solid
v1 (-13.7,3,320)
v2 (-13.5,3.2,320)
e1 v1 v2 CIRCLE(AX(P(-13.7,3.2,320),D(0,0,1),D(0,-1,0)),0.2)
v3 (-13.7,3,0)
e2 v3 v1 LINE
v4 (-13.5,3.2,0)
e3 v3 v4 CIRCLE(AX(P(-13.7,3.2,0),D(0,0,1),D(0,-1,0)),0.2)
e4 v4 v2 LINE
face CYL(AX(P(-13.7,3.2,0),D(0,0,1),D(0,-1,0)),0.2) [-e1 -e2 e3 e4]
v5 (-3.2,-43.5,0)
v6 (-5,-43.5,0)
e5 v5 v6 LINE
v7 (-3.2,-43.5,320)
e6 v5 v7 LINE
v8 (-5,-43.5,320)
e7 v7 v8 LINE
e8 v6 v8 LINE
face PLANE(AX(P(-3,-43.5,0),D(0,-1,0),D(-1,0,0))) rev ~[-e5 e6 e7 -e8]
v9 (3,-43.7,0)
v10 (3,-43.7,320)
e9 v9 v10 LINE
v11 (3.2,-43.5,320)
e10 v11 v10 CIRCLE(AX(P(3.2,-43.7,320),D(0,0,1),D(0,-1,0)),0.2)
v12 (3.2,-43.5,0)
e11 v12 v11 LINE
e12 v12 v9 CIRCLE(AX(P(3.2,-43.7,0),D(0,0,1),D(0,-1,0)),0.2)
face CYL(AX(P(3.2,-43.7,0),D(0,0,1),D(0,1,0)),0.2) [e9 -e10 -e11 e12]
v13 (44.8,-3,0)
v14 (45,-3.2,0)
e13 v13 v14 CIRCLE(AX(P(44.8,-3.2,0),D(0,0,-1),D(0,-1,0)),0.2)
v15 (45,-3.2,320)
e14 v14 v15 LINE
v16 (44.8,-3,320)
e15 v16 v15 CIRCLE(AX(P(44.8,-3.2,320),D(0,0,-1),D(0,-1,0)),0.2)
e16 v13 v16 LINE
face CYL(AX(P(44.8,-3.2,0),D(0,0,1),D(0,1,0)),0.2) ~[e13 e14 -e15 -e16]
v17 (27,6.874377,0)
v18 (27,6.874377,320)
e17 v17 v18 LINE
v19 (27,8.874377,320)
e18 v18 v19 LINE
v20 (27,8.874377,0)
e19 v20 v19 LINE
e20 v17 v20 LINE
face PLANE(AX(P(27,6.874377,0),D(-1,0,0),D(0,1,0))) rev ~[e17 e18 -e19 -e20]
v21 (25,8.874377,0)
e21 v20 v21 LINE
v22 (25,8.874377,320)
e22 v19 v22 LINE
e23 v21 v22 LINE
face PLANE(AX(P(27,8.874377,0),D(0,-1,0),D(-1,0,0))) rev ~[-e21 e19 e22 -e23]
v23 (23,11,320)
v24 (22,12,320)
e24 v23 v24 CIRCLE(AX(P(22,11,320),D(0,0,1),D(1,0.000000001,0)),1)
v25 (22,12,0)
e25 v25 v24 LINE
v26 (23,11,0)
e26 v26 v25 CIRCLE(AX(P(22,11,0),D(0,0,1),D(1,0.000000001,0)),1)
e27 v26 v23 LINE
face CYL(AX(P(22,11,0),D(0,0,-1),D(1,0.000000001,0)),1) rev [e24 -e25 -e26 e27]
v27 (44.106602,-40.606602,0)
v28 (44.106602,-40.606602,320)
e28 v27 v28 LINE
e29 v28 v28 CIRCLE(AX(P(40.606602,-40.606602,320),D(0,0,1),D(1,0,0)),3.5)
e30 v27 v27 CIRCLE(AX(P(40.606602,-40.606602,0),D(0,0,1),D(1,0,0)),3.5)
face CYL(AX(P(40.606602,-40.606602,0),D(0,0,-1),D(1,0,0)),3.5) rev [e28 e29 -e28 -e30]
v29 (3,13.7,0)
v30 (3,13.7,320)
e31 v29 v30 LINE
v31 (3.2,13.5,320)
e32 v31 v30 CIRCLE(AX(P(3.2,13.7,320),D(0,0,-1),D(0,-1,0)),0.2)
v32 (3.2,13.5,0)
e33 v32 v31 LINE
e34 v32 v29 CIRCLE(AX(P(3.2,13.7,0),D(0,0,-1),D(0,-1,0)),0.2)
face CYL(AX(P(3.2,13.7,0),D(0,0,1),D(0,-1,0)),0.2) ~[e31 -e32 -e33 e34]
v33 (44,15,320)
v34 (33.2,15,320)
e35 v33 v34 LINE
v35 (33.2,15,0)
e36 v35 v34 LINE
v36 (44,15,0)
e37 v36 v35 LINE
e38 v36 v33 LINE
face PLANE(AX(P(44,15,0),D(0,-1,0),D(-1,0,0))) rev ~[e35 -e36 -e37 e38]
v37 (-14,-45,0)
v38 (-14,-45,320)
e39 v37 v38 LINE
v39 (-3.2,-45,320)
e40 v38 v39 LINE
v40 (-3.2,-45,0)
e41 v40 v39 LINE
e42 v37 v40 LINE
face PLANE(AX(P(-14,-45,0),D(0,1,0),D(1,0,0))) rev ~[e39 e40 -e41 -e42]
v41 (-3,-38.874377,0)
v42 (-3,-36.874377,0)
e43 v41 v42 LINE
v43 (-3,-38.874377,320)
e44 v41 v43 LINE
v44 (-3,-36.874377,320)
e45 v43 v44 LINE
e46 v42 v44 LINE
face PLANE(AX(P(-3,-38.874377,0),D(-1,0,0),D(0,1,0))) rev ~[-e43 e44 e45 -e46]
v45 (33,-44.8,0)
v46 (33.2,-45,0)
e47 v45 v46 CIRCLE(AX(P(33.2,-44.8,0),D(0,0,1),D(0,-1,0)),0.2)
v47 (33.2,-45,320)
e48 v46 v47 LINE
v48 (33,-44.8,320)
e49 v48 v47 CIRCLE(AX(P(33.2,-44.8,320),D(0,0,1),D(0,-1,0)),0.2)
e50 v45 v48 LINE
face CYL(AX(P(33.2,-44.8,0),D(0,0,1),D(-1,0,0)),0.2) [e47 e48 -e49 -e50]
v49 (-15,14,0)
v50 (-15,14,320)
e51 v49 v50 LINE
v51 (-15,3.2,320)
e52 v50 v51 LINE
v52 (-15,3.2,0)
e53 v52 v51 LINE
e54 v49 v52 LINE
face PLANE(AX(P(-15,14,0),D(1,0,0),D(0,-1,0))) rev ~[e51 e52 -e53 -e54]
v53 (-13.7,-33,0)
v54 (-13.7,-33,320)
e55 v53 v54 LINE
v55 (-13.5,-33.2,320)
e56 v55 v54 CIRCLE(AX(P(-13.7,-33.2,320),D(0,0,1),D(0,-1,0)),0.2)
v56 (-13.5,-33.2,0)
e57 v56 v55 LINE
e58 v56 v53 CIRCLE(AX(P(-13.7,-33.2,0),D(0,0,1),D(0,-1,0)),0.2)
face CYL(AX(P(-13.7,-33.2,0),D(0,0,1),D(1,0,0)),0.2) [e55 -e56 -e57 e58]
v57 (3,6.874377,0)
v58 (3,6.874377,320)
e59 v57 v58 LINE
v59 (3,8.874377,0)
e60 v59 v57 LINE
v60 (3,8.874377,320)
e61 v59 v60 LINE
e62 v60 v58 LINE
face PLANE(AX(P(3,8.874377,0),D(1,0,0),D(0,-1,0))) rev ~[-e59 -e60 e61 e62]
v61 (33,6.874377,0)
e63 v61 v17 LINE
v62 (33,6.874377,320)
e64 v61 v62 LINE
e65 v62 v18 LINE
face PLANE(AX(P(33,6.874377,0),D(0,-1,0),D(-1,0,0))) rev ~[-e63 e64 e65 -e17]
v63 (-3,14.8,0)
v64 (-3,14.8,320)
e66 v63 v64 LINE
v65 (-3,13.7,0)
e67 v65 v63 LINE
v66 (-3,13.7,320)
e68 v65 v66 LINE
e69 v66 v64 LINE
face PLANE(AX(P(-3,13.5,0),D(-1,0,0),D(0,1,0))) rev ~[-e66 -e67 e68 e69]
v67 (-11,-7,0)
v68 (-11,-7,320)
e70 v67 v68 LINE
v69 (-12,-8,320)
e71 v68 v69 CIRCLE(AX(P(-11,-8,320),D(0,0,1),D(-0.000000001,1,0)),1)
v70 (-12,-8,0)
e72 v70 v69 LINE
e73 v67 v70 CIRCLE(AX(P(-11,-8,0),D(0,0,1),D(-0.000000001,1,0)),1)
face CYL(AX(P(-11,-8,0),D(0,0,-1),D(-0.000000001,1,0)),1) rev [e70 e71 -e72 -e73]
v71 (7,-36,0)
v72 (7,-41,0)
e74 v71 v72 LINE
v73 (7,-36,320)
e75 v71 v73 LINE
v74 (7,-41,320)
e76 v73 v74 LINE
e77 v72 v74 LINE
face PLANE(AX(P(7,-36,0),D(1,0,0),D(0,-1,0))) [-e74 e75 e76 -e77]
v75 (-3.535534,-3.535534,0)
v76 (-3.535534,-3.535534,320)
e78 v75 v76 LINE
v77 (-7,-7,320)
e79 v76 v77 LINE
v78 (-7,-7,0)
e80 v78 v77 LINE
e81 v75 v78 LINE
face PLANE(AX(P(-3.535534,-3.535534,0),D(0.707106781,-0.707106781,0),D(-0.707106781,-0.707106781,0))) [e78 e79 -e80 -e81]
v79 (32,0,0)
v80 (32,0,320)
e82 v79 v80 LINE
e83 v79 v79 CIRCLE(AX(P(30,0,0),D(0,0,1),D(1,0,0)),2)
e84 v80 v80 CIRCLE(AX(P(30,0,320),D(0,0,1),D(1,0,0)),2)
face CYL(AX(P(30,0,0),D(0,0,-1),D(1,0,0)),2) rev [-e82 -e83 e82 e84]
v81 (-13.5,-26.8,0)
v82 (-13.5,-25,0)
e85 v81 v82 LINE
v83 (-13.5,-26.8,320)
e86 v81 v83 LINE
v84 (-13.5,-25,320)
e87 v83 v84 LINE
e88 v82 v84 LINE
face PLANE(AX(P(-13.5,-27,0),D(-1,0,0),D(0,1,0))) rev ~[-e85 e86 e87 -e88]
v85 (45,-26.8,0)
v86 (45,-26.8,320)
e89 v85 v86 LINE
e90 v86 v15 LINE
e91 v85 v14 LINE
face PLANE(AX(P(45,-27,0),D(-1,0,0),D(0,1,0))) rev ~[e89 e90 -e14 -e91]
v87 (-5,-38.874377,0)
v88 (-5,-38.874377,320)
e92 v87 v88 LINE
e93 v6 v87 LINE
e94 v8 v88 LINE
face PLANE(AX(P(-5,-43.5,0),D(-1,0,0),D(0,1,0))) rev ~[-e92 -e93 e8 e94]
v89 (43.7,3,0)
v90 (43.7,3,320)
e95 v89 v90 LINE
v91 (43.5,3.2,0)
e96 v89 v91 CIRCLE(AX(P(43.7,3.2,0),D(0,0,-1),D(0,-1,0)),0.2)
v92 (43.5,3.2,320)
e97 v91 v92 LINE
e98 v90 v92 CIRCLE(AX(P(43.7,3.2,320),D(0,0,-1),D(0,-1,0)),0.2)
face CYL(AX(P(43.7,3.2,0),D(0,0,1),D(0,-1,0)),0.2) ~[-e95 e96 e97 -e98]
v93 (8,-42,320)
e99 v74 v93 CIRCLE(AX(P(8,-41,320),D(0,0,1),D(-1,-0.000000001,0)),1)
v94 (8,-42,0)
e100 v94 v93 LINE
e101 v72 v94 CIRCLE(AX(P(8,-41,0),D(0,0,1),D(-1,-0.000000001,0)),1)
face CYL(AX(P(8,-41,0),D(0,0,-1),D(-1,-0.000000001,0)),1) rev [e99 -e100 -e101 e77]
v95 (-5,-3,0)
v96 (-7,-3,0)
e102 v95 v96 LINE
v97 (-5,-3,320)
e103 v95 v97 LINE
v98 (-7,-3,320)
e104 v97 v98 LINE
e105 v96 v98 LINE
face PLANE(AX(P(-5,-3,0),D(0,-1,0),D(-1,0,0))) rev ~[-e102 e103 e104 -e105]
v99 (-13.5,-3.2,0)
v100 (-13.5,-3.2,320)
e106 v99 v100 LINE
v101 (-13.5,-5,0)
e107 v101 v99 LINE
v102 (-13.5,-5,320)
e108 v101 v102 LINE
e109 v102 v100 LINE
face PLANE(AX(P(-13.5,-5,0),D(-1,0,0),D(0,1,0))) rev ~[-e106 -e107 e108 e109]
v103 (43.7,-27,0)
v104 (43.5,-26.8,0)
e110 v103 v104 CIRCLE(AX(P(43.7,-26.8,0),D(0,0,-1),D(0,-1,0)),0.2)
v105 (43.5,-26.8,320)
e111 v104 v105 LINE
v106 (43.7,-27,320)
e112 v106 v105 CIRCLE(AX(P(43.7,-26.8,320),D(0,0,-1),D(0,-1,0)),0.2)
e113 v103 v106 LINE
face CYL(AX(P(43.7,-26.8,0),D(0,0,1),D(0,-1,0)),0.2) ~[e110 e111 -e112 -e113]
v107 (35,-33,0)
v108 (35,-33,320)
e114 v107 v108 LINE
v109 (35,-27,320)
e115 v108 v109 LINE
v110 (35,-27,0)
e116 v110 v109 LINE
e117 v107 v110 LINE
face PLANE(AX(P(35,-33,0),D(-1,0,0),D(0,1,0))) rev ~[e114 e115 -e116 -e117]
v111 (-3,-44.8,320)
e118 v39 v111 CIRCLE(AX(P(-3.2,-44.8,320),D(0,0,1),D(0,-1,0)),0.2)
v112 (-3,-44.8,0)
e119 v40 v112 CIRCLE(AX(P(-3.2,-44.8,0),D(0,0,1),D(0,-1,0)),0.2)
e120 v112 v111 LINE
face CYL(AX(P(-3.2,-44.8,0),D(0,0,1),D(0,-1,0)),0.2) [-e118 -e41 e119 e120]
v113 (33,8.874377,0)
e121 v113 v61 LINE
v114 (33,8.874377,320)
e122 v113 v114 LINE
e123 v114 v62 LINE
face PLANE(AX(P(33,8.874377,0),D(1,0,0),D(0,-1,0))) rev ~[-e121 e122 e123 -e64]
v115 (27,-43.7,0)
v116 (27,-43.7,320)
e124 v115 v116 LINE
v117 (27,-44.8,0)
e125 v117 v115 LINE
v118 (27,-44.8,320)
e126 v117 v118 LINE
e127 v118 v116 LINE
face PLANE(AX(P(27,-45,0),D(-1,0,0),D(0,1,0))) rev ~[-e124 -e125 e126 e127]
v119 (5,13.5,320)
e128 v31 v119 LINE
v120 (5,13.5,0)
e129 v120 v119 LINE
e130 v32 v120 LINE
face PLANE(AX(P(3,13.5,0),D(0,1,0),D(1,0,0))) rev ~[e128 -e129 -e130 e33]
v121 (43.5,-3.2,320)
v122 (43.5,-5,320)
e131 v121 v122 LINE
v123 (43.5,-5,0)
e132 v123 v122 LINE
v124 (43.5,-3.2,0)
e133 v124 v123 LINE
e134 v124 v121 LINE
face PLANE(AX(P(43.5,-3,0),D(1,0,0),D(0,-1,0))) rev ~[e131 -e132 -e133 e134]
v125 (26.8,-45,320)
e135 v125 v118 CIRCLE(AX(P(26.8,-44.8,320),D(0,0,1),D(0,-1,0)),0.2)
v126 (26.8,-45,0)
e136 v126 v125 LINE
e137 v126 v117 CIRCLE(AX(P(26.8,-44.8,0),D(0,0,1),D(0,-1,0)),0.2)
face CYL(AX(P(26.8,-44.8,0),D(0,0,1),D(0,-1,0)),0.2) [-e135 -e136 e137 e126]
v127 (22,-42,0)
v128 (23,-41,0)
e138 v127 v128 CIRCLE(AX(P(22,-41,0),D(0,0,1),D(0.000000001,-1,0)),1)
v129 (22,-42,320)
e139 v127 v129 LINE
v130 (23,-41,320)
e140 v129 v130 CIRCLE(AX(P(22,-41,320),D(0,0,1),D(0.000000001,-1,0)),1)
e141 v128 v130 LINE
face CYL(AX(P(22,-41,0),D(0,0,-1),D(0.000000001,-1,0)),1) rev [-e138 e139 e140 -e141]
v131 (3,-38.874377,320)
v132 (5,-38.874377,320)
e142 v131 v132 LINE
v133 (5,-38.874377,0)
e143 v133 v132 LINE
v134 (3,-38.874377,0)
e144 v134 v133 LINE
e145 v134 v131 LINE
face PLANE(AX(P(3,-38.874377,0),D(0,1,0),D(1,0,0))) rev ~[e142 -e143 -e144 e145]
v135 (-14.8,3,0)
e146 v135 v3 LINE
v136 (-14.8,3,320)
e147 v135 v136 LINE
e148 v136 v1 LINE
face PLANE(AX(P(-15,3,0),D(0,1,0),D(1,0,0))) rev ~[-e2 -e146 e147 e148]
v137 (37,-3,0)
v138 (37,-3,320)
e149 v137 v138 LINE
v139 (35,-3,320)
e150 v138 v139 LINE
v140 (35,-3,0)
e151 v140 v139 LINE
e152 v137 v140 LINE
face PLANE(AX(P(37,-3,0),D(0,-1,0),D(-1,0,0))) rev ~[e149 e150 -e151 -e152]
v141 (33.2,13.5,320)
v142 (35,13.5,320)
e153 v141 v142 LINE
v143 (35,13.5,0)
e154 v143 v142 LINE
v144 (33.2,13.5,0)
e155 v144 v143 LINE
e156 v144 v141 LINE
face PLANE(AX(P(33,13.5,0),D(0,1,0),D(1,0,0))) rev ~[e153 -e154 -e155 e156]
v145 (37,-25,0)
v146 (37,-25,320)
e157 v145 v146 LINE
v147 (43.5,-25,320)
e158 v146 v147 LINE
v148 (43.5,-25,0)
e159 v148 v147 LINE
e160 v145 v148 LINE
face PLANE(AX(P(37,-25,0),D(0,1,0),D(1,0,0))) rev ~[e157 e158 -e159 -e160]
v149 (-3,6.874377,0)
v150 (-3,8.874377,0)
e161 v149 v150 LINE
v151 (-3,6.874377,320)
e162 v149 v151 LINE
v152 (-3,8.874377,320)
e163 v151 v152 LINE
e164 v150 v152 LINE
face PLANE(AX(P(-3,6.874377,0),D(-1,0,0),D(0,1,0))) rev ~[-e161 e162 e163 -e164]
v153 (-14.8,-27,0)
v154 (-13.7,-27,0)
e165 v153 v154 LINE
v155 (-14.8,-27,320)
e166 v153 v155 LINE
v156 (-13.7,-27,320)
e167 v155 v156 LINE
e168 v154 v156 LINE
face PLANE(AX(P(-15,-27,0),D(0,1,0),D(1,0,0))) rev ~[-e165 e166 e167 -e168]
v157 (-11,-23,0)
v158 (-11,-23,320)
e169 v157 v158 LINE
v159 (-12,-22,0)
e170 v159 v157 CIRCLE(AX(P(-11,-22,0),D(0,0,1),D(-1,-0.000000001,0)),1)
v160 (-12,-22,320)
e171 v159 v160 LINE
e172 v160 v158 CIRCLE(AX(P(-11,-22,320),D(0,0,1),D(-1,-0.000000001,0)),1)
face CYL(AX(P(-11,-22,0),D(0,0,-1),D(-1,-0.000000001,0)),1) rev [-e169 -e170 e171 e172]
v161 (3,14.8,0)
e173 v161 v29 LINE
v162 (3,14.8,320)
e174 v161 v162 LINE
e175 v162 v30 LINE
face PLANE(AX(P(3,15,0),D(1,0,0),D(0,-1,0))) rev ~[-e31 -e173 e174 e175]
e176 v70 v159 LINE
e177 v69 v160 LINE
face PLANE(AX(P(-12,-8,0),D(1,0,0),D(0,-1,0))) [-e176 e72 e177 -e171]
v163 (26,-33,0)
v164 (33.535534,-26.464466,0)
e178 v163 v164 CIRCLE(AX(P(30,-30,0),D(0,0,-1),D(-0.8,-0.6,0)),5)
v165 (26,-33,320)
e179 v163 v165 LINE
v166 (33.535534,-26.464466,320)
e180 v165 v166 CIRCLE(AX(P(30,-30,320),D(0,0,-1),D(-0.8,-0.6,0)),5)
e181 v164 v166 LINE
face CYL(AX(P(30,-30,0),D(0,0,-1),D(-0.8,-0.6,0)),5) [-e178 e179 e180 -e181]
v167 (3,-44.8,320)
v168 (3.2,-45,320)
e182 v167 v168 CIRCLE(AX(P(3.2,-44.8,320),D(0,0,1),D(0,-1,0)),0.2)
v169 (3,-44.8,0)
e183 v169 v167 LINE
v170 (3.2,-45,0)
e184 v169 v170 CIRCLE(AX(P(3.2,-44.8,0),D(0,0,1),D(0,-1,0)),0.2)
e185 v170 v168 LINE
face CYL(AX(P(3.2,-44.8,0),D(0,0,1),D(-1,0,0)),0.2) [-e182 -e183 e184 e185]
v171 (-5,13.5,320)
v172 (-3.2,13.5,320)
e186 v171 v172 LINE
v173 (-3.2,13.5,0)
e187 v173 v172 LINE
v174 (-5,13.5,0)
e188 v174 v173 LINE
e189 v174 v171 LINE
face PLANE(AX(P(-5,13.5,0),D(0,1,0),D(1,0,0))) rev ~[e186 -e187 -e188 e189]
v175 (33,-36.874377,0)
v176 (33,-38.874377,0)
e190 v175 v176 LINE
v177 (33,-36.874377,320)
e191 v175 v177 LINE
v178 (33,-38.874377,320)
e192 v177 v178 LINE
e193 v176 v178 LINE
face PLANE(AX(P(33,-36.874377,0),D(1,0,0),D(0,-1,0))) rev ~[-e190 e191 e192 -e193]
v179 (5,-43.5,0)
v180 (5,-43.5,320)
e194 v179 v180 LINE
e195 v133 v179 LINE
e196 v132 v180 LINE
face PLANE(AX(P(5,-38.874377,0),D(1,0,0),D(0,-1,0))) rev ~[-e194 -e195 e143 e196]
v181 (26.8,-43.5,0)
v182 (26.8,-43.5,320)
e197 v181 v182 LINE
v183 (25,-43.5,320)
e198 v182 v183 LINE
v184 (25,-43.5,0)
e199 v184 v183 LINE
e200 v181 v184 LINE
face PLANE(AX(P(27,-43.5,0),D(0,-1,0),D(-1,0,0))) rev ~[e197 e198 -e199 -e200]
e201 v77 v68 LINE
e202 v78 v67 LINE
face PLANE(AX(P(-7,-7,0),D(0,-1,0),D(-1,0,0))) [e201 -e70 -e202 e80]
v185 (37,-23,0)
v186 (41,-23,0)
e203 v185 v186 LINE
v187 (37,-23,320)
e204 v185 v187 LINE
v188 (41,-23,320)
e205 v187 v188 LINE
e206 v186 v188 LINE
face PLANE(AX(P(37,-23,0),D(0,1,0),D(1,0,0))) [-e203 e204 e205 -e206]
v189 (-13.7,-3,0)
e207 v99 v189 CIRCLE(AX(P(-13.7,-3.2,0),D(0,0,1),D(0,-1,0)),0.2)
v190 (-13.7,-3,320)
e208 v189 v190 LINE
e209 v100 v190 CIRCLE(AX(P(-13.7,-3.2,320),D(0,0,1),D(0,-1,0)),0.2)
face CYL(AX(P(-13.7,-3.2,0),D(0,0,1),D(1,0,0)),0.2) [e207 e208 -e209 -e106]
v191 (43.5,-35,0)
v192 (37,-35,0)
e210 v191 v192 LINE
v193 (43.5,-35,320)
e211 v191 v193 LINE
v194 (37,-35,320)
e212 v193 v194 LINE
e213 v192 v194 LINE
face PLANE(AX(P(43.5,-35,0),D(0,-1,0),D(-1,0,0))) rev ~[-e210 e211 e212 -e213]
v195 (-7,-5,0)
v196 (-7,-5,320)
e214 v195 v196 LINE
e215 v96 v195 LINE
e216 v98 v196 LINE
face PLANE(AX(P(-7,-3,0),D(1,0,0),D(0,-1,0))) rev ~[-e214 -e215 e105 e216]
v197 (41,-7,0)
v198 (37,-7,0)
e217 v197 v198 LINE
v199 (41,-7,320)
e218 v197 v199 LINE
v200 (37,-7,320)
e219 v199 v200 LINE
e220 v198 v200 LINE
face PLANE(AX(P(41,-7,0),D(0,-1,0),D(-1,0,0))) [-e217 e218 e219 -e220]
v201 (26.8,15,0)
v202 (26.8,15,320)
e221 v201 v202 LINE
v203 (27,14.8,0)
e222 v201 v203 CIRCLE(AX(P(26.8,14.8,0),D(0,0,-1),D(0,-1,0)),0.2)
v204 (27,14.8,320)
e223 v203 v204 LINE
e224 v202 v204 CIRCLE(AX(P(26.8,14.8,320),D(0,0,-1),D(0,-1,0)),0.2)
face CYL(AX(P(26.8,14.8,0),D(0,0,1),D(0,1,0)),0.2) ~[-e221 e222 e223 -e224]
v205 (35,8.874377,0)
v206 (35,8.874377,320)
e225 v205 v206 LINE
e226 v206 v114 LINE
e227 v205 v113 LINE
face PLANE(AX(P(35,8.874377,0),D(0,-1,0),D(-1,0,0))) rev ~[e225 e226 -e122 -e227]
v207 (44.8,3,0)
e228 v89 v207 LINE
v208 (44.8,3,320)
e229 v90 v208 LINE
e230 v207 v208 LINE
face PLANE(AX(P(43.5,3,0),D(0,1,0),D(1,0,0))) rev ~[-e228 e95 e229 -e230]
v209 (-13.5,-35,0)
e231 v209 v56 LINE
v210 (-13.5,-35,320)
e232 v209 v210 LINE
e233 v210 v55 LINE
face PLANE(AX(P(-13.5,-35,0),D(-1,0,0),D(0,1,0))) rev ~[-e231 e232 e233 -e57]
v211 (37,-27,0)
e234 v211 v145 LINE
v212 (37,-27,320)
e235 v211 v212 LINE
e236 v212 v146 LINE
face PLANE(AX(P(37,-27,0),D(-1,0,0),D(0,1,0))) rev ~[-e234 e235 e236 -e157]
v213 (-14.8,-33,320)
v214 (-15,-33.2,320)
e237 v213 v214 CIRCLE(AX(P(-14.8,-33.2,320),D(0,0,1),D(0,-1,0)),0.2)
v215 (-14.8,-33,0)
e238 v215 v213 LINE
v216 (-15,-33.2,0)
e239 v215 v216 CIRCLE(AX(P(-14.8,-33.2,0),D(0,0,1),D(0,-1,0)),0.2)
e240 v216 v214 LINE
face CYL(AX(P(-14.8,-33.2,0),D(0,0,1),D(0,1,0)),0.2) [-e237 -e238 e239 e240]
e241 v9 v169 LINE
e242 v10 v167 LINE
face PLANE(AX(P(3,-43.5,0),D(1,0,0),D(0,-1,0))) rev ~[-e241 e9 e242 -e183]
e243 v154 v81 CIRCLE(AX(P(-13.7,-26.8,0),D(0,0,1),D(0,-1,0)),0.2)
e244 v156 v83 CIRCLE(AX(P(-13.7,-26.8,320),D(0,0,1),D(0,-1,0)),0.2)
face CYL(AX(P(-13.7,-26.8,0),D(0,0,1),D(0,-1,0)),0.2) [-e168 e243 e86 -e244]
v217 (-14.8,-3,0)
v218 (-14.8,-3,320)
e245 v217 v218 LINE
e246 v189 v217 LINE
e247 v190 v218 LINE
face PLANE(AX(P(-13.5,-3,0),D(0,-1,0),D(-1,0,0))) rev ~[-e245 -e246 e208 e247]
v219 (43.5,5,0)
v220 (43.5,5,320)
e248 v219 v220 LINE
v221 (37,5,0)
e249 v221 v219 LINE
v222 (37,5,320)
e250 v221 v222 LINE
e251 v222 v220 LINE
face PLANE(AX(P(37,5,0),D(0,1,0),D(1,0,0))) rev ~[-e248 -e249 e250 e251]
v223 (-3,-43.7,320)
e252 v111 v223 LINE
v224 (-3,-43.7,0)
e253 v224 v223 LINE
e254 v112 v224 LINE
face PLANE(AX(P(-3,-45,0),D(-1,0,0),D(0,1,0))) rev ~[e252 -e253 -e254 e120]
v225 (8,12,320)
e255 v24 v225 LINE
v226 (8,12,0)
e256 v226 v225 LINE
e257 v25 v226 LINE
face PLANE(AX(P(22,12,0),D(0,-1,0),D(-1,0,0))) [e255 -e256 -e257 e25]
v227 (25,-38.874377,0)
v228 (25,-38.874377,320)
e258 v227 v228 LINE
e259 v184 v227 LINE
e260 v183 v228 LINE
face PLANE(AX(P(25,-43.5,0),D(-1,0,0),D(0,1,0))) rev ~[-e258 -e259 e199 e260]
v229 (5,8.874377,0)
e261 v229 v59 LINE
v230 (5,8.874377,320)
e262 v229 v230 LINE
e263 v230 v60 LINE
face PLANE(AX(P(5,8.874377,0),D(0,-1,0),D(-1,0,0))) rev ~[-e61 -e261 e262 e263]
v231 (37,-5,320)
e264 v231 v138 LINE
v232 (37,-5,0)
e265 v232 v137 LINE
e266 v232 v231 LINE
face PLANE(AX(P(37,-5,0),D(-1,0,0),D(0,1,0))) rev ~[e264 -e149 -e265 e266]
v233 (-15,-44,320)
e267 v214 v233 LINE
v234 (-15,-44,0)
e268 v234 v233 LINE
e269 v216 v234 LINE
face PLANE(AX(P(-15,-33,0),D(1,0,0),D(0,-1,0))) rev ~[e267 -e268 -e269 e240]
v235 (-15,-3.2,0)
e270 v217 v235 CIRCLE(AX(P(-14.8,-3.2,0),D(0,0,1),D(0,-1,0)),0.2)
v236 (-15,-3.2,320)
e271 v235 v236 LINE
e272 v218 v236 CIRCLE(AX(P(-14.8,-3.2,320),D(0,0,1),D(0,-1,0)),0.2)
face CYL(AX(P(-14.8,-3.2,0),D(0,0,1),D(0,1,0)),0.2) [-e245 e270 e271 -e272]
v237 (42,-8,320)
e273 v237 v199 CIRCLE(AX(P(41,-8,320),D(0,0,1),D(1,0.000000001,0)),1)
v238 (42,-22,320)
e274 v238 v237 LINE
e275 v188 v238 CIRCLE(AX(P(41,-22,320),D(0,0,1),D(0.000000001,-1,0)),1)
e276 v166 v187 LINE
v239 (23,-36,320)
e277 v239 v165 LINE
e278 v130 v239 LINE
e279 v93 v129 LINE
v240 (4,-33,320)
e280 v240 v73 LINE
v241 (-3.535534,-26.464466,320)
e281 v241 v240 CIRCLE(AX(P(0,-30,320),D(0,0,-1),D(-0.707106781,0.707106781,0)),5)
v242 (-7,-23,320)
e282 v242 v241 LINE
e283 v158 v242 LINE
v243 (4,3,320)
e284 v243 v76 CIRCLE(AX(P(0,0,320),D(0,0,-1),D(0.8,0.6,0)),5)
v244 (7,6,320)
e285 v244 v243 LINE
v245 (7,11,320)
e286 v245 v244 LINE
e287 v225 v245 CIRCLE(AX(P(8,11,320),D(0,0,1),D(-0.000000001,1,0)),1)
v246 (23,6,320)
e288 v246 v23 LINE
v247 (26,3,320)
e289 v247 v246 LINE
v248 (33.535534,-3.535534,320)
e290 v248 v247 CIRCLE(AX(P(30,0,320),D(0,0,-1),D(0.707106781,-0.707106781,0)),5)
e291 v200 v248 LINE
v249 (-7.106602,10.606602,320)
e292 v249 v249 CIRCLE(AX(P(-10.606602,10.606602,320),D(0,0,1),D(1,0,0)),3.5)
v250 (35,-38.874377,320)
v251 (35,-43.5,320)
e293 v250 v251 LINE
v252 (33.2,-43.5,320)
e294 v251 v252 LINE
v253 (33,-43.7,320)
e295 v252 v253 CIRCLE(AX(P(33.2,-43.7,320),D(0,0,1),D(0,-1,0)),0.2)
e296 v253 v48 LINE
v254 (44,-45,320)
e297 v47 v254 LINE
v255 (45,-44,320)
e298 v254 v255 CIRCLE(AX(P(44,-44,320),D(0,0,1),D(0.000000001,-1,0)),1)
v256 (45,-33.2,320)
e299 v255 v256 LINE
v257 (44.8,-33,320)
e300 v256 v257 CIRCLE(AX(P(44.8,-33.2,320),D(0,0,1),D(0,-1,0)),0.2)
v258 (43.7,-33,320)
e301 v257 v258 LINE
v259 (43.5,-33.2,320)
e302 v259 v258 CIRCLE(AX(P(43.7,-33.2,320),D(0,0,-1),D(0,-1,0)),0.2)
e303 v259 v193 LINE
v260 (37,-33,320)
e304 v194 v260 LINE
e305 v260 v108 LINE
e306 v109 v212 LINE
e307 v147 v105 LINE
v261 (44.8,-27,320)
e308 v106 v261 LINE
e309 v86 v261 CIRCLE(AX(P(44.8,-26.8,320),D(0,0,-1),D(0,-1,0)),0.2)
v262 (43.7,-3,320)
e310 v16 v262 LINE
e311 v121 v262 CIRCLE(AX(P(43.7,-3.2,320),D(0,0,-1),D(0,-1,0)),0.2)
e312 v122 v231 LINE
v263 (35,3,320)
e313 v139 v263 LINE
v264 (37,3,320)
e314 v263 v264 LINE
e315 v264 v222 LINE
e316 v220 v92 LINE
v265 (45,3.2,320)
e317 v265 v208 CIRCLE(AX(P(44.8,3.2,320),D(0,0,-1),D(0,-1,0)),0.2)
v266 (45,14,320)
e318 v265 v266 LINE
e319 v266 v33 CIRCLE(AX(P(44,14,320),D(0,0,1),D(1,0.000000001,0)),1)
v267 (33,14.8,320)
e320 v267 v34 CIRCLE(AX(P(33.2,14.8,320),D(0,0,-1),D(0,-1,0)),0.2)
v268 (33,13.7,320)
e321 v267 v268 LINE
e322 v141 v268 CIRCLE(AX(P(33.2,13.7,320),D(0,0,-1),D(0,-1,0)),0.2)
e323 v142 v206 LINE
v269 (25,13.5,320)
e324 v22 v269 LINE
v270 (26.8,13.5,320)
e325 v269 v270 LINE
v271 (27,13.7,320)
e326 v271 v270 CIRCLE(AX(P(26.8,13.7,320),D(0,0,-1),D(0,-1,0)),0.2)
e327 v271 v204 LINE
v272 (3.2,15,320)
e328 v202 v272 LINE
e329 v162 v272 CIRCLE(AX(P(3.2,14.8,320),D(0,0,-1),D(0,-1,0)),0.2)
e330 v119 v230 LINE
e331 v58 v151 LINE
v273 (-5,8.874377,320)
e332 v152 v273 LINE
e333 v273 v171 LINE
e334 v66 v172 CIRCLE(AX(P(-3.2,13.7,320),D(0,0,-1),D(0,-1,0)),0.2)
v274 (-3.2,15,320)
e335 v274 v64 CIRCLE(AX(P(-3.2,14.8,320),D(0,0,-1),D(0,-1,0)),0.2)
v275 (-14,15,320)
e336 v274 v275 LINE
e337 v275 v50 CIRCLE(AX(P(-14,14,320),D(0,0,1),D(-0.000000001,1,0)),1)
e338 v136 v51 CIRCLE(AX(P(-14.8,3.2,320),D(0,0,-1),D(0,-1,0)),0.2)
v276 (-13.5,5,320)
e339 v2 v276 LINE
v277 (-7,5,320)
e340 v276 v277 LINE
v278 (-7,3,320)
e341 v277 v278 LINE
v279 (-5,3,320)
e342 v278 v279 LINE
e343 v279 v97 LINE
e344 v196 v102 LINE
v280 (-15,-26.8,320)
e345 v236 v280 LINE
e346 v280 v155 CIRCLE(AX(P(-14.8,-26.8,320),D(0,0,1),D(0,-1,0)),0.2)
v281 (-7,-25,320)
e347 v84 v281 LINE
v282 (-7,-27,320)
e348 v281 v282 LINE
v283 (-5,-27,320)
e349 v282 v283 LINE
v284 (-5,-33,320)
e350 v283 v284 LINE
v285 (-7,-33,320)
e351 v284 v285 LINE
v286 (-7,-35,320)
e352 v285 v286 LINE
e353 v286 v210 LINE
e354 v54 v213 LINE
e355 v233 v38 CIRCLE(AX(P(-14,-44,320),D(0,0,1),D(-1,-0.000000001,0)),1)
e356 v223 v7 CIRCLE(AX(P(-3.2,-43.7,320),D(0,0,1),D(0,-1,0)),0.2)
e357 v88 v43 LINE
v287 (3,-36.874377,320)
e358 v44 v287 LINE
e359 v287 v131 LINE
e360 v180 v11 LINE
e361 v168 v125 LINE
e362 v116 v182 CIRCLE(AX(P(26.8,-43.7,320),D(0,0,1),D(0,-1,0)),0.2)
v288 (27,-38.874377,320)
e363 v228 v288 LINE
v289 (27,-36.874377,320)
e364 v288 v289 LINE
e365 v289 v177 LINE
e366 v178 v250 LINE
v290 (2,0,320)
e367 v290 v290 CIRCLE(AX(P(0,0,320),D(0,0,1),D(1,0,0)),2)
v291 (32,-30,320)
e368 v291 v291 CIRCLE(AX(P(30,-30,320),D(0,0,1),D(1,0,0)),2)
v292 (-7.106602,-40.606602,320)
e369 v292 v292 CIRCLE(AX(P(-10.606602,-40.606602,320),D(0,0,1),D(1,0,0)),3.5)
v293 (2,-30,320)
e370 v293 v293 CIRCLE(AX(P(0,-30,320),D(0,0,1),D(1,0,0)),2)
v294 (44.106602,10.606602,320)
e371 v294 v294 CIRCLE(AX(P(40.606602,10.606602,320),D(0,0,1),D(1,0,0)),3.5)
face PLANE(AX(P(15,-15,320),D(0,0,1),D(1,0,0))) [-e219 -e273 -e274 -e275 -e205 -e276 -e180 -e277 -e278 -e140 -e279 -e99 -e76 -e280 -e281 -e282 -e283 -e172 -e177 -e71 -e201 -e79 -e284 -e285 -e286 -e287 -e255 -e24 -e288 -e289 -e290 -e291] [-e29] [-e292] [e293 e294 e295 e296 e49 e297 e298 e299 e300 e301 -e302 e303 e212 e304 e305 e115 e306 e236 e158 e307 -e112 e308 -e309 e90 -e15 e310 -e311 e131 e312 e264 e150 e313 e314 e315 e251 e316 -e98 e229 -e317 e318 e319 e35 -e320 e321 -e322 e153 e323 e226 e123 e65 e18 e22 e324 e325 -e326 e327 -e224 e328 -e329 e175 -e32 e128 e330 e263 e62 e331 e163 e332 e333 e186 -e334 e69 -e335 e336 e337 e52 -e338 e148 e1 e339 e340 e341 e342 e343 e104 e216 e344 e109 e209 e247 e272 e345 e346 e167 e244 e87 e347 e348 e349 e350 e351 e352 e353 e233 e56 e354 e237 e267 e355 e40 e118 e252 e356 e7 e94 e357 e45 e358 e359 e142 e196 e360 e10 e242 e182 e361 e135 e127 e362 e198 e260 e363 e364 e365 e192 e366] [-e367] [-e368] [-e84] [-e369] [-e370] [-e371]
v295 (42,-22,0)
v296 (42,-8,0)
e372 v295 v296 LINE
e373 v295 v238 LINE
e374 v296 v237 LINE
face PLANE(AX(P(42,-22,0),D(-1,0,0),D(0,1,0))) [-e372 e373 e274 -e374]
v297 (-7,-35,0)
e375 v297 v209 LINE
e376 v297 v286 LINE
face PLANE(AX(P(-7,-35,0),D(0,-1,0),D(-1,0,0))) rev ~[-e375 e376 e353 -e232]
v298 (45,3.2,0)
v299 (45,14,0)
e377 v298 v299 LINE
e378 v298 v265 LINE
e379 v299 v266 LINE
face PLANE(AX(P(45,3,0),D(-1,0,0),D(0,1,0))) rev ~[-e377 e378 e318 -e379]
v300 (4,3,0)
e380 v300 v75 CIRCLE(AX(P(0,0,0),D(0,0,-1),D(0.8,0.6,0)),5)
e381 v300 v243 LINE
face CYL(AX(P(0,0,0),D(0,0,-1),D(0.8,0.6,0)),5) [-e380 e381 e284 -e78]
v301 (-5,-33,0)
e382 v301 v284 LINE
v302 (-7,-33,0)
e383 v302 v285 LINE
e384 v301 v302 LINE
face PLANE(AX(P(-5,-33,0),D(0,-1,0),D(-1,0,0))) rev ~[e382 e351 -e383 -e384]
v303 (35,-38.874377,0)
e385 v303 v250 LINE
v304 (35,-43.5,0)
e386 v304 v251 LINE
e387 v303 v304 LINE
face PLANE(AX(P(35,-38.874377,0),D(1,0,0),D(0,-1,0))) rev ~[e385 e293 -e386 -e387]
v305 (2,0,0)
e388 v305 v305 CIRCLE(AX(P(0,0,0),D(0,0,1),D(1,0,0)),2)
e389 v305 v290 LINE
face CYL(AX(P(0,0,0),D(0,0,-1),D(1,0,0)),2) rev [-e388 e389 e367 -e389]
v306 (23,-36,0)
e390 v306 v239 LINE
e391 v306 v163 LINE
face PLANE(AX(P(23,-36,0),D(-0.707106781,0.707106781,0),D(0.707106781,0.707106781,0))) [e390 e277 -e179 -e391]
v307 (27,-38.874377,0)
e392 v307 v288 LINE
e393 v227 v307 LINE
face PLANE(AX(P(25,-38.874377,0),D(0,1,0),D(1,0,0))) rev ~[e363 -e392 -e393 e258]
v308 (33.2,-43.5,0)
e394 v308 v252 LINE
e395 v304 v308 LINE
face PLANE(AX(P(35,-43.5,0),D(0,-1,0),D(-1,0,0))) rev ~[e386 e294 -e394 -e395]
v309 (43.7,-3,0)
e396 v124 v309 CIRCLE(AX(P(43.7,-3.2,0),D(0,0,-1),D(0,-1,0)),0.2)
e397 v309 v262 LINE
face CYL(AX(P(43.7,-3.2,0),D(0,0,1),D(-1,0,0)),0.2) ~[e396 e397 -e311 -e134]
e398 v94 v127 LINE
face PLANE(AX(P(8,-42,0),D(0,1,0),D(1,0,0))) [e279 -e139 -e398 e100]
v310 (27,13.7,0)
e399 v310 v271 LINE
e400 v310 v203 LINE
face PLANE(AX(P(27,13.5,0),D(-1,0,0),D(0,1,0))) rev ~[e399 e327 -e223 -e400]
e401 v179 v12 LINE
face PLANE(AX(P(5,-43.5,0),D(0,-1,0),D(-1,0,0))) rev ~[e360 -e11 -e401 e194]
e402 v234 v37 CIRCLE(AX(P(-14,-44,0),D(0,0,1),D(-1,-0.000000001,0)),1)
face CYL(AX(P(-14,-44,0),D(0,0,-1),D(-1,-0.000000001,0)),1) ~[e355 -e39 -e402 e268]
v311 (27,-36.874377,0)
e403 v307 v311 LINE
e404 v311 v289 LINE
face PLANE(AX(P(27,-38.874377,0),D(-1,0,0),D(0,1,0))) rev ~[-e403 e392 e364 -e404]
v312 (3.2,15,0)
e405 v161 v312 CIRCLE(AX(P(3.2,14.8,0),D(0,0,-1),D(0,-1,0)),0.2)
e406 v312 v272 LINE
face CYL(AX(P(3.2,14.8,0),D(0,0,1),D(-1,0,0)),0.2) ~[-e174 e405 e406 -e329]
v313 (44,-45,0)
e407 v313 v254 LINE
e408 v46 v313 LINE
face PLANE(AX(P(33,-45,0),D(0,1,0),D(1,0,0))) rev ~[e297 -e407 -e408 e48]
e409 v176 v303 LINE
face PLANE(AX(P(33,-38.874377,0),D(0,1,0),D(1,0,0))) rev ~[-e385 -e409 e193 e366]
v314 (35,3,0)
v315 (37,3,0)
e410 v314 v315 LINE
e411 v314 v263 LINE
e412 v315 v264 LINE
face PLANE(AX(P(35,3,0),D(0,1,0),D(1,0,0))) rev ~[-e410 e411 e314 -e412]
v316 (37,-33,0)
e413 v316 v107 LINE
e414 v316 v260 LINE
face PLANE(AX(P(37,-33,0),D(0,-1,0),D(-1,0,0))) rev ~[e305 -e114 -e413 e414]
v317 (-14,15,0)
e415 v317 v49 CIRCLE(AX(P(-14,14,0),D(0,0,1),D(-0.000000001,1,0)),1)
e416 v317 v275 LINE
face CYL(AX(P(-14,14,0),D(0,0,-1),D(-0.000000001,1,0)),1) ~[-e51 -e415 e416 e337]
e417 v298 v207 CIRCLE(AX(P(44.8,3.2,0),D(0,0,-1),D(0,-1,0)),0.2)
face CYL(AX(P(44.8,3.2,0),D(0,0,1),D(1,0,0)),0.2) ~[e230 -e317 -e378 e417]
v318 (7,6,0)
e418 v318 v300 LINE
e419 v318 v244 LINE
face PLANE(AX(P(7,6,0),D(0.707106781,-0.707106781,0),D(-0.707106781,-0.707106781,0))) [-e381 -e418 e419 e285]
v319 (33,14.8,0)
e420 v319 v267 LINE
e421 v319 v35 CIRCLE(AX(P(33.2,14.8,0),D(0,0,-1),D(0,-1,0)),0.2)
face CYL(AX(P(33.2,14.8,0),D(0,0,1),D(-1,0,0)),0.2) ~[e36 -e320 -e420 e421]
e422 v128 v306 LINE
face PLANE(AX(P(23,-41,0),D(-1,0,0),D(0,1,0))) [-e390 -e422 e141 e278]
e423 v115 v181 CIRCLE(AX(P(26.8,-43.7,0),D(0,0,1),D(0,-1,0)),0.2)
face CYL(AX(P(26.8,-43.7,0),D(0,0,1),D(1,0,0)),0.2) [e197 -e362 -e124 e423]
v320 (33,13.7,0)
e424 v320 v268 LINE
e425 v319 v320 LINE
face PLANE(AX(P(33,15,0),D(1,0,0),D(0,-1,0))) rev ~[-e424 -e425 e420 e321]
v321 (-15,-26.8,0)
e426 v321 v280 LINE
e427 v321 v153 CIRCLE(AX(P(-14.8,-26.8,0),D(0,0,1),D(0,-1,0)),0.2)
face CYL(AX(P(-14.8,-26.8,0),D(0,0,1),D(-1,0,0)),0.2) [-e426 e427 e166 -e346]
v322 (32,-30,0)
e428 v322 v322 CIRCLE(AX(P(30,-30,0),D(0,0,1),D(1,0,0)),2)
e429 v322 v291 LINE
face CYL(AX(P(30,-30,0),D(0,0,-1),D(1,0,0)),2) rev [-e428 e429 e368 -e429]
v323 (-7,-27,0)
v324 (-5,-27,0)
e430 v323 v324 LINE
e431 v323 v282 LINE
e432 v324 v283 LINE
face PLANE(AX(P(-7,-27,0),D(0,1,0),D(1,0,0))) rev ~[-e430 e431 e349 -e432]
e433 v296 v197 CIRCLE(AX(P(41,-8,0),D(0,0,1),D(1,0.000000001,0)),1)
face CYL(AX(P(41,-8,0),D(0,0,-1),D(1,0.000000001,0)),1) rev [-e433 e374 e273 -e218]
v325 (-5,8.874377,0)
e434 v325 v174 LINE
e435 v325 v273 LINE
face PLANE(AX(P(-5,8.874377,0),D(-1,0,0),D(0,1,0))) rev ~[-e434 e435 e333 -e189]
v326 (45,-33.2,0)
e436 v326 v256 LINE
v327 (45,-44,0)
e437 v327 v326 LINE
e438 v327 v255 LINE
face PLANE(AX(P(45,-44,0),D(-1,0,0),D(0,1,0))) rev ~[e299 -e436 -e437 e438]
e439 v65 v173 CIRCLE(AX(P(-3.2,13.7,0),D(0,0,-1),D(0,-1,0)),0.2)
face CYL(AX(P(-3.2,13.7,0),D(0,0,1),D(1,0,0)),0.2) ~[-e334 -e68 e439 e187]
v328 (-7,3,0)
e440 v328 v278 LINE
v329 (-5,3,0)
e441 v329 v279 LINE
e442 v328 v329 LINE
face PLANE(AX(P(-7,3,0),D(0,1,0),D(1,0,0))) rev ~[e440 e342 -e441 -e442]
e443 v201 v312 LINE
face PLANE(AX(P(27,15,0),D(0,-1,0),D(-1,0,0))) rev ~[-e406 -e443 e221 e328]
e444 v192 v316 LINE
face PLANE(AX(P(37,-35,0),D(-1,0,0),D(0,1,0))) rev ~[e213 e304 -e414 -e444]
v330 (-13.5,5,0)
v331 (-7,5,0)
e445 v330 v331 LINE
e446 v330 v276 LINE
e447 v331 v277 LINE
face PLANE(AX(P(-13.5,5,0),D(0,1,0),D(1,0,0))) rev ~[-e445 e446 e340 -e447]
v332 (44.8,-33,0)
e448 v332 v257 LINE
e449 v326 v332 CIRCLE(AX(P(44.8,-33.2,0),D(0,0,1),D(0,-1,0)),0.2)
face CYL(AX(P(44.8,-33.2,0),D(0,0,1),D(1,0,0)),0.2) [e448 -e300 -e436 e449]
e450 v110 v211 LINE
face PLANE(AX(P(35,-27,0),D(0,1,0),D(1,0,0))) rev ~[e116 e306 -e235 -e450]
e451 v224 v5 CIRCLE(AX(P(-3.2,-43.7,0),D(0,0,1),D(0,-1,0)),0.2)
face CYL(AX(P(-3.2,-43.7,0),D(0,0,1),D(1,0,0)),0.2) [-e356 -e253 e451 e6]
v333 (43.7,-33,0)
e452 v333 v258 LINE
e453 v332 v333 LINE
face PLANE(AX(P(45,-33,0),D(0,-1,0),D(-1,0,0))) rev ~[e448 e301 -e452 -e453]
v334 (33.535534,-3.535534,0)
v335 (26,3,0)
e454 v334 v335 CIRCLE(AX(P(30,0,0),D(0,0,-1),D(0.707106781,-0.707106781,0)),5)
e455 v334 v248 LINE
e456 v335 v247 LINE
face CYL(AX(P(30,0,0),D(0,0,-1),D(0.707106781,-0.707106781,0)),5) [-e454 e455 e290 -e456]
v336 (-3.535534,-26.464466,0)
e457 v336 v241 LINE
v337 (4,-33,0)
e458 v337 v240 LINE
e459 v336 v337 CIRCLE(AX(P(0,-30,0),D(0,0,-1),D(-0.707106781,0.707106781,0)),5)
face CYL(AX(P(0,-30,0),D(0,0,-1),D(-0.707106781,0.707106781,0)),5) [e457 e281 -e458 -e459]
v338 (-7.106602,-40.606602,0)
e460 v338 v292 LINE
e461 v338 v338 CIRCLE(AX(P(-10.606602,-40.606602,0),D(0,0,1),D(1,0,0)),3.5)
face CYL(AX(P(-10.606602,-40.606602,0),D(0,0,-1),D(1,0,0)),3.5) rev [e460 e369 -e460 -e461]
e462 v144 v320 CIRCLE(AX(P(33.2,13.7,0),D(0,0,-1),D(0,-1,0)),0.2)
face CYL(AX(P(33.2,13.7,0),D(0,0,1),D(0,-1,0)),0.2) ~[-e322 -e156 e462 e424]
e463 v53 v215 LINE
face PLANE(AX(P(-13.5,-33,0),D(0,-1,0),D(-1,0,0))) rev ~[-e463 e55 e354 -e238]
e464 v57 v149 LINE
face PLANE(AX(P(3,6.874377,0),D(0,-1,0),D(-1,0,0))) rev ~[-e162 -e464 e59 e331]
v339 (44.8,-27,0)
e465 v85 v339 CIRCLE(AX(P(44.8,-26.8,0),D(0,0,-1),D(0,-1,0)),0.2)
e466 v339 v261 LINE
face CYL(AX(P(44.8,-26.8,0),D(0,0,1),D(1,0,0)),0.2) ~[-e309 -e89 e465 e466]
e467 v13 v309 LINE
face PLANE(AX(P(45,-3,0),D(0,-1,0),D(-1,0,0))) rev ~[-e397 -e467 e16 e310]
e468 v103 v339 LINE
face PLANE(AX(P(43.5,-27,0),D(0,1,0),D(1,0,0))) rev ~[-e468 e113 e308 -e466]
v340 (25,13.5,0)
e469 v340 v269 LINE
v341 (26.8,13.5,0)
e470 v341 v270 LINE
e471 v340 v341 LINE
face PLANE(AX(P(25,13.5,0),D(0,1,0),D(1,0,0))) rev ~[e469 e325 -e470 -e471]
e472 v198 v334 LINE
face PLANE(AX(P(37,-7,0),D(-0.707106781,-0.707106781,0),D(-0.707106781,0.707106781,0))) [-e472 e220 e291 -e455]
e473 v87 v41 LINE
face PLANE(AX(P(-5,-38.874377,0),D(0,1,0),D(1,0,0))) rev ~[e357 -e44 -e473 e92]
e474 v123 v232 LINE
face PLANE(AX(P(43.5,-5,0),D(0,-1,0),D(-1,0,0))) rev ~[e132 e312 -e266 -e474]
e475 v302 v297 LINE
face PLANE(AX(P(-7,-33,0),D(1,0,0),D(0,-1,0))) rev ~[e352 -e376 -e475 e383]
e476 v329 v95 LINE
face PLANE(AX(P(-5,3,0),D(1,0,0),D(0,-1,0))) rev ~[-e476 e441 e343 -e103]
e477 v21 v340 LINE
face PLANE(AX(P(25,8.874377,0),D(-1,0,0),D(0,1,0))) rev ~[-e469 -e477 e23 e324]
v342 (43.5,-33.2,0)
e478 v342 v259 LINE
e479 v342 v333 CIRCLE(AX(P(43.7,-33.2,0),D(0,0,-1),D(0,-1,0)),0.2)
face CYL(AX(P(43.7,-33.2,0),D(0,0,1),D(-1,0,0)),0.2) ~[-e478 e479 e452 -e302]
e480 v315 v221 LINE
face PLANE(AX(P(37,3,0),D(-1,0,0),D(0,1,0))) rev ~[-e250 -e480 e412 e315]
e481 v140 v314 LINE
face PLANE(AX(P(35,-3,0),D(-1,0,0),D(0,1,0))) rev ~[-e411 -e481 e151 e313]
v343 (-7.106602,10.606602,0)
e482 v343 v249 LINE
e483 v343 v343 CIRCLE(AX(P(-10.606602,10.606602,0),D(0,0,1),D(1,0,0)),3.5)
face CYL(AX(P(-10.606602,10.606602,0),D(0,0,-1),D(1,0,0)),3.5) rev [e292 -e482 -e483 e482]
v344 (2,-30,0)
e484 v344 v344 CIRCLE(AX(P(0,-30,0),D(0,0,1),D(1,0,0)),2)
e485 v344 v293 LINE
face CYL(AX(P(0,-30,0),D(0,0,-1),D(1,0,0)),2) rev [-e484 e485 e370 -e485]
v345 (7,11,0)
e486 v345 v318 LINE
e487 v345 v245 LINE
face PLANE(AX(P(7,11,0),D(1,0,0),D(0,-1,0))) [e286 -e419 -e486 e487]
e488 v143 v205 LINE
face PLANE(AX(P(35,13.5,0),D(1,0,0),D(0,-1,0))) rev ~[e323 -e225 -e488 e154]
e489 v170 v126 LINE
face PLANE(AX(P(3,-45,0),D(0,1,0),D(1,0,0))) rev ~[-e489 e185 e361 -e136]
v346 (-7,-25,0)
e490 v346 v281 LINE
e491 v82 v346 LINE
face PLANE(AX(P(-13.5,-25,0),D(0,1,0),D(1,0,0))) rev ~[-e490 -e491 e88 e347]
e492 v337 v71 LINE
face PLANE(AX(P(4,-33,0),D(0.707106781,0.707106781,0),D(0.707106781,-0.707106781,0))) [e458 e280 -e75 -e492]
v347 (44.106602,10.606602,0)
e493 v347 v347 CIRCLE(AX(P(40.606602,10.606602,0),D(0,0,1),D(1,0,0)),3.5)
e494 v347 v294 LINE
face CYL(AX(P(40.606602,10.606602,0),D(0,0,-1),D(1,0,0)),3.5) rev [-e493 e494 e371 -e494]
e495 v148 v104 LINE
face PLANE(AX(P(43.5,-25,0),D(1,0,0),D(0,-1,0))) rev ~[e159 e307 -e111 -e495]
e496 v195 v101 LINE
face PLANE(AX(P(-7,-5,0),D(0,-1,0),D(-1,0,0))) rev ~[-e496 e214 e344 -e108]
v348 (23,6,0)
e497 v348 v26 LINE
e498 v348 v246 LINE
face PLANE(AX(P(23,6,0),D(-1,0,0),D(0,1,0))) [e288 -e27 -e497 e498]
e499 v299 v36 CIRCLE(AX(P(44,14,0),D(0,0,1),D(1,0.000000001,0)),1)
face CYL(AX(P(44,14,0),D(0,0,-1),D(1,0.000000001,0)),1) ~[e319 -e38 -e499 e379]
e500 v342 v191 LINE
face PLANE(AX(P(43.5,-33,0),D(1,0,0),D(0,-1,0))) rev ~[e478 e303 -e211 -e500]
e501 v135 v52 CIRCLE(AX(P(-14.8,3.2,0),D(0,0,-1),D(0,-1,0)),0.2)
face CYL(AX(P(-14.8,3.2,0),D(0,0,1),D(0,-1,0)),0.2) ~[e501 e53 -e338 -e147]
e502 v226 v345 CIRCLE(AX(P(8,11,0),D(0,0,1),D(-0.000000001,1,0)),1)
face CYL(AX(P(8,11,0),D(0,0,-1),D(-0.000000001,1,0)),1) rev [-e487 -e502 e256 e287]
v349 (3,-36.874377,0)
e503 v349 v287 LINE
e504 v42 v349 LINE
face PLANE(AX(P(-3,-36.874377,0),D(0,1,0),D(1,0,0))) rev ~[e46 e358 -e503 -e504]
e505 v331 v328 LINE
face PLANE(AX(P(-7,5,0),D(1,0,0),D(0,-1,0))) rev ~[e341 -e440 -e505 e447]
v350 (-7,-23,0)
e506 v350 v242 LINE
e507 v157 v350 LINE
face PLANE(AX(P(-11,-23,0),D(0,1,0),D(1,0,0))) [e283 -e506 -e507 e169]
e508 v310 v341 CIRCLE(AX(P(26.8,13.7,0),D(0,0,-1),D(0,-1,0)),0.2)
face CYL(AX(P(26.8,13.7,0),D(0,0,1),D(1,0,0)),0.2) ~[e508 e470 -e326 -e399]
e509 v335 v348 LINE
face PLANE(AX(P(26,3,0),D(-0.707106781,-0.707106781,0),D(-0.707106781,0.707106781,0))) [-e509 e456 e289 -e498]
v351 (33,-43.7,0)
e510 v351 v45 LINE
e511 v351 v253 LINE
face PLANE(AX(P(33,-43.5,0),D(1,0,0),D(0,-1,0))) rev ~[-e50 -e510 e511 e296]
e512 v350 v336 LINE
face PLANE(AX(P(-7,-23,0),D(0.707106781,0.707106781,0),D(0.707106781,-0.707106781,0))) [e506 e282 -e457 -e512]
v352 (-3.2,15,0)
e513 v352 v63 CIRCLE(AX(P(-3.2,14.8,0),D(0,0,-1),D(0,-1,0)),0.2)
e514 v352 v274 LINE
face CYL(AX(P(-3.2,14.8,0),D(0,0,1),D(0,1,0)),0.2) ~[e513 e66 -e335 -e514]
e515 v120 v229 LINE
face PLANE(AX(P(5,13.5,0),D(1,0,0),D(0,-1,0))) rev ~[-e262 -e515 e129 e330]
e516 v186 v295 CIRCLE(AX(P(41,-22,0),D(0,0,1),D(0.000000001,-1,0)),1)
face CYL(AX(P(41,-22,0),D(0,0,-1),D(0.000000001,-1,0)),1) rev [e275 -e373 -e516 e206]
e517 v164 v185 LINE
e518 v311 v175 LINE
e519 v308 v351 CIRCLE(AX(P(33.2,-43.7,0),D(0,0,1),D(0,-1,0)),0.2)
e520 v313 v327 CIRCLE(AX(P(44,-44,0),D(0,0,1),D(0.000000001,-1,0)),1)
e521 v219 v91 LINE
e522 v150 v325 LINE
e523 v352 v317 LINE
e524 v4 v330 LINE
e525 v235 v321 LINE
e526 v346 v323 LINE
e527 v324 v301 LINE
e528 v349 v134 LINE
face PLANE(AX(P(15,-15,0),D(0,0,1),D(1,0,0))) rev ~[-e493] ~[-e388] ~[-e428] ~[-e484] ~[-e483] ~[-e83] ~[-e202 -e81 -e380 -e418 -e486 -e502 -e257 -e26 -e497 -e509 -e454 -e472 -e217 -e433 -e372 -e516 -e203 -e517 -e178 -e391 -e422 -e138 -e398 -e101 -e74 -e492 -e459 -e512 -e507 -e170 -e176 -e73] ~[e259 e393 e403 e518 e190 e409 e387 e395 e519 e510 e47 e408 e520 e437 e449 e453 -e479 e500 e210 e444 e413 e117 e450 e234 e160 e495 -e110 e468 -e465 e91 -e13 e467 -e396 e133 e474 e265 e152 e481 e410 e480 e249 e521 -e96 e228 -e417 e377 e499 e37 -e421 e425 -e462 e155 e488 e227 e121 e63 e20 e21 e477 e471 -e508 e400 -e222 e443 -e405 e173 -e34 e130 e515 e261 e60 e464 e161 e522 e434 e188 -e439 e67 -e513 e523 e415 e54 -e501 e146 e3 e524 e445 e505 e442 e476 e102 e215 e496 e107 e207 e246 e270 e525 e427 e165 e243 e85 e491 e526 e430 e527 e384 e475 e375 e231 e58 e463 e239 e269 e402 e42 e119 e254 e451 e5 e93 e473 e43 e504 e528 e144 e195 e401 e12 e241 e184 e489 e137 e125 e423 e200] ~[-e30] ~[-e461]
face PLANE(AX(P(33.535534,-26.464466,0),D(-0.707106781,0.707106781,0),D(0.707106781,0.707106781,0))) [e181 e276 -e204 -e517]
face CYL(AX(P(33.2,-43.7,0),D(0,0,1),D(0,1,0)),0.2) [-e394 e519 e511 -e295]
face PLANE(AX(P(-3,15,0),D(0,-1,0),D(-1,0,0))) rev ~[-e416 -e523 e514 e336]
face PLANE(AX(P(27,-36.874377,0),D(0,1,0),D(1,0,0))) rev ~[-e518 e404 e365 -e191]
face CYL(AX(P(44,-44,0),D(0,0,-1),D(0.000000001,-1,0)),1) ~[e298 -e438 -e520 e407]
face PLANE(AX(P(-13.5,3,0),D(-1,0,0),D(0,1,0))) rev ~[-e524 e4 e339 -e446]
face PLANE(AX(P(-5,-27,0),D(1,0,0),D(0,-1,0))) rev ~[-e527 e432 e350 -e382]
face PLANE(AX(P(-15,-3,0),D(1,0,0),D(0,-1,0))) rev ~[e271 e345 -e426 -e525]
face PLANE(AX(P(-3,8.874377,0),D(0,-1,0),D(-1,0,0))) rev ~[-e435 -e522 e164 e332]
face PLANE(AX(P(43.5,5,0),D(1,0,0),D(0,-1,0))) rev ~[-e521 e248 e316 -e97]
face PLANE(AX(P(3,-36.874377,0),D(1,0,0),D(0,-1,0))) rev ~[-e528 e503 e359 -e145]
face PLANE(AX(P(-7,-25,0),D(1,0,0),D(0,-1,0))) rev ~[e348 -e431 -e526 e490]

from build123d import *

# Parameters (mm, degrees)
SKETCH1_R           = 2
SKETCH1_R_2         = 3.5
BOSS_EXTRUDE1_DEPTH = 320
FILLET1_R           = 0.2
FILLET2_R           = 0.2


with BuildPart() as part:
    # Sketch1 → Boss-Extrude1 (new body)
    with BuildSketch(Plane.XY):
        with BuildLine():
            Line((-5, 3), (-5, -3))
            Line((-5, -3), (-7, -3))
            Line((-7, -3), (-7, -5))
            Line((-7, -5), (-13.5, -5))
            Line((-13.5, -5), (-13.5, -3))
            Line((-13.5, -3), (-15, -3))
            Line((-15, -3), (-15, -27))
            Line((-15, -27), (-13.5, -27))
            Line((-13.5, -27), (-13.5, -25))
            Line((-13.5, -25), (-7, -25))
            Line((-7, -25), (-7, -27))
            Line((-7, -27), (-5, -27))
            Line((-5, -27), (-5, -33))
            Line((-5, -33), (-7, -33))
            Line((-7, -33), (-7, -35))
            Line((-7, -35), (-13.5, -35))
            Line((-13.5, -35), (-13.5, -33))
            Line((-13.5, -33), (-15, -33))
            Line((-15, -33), (-15, -44))
            ThreePointArc((-15, -44), (-14.707106781, -44.707106781), (-14, -45))
            Line((-14, -45), (-3, -45))
            Line((-3, -45), (-3, -43.5))
            Line((-3, -43.5), (-5, -43.5))
            Line((-5, -43.5), (-5, -38.87437693))
            Line((-5, -38.87437693), (-3, -38.87437693))
            Line((-3, -38.87437693), (-3, -36.87437693))
            Line((-3, -36.87437693), (3, -36.87437693))
            Line((3, -36.87437693), (3, -38.87437693))
            Line((3, -38.87437693), (5, -38.87437693))
            Line((5, -38.87437693), (5, -43.5))
            Line((5, -43.5), (3, -43.5))
            Line((3, -43.5), (3, -45))
            Line((3, -45), (27, -45))
            Line((27, -45), (27, -43.5))
            Line((27, -43.5), (25, -43.5))
            Line((25, -43.5), (25, -38.87437693))
            Line((25, -38.87437693), (27, -38.87437693))
            Line((27, -38.87437693), (27, -36.87437693))
            Line((27, -36.87437693), (33, -36.87437693))
            Line((33, -36.87437693), (33, -38.87437693))
            Line((33, -38.87437693), (35, -38.87437693))
            Line((35, -38.87437693), (35, -43.5))
            Line((35, -43.5), (33, -43.5))
            Line((33, -43.5), (33, -45))
            Line((33, -45), (44, -45))
            ThreePointArc((44, -45), (44.707106781, -44.707106781), (45, -44))
            Line((45, -44), (45, -33))
            Line((45, -33), (43.5, -33))
            Line((43.5, -33), (43.5, -35))
            Line((43.5, -35), (37, -35))
            Line((37, -35), (37, -33))
            Line((37, -33), (35, -33))
            Line((35, -33), (35, -27))
            Line((35, -27), (37, -27))
            Line((37, -27), (37, -25))
            Line((37, -25), (43.5, -25))
            Line((43.5, -25), (43.5, -27))
            Line((43.5, -27), (45, -27))
            Line((45, -27), (45, -3))
            Line((45, -3), (43.5, -3))
            Line((43.5, -3), (43.5, -5))
            Line((43.5, -5), (37, -5))
            Line((37, -5), (37, -3))
            Line((37, -3), (35, -3))
            Line((35, -3), (35, 3))
            Line((35, 3), (37, 3))
            Line((37, 3), (37, 5))
            Line((37, 5), (43.5, 5))
            Line((43.5, 5), (43.5, 3))
            Line((43.5, 3), (45, 3))
            Line((45, 3), (45, 14))
            ThreePointArc((45, 14), (44.707106781, 14.707106781), (44, 15))
            Line((44, 15), (33, 15))
            Line((33, 15), (33, 13.5))
            Line((33, 13.5), (35, 13.5))
            Line((35, 13.5), (35, 8.87437693))
            Line((35, 8.87437693), (33, 8.87437693))
            Line((33, 8.87437693), (33, 6.87437693))
            Line((33, 6.87437693), (27, 6.87437693))
            Line((27, 6.87437693), (27, 8.87437693))
            Line((27, 8.87437693), (25, 8.87437693))
            Line((25, 8.87437693), (25, 13.5))
            Line((25, 13.5), (27, 13.5))
            Line((27, 13.5), (27, 15))
            Line((27, 15), (3, 15))
            Line((3, 15), (3, 13.5))
            Line((3, 13.5), (5, 13.5))
            Line((5, 13.5), (5, 8.87437693))
            Line((5, 8.87437693), (3, 8.87437693))
            Line((3, 8.87437693), (3, 6.87437693))
            Line((3, 6.87437693), (-3, 6.87437693))
            Line((-3, 6.87437693), (-3, 8.87437693))
            Line((-3, 8.87437693), (-5, 8.87437693))
            Line((-5, 8.87437693), (-5, 13.5))
            Line((-5, 13.5), (-3, 13.5))
            Line((-3, 13.5), (-3, 15))
            Line((-3, 15), (-14, 15))
            ThreePointArc((-14, 15), (-14.707106781, 14.707106781), (-15, 14))
            Line((-15, 14), (-15, 3))
            Line((-15, 3), (-13.5, 3))
            Line((-13.5, 3), (-13.5, 5))
            Line((-13.5, 5), (-7, 5))
            Line((-7, 5), (-7, 3))
            Line((-7, 3), (-5, 3))
        make_face()
        Circle(SKETCH1_R, mode=Mode.SUBTRACT)
        with Locations((-10.606601718, 10.606601718)):
            Circle(SKETCH1_R_2, mode=Mode.SUBTRACT)
        with Locations((-10.606601718, -40.606601718)):
            Circle(SKETCH1_R_2, mode=Mode.SUBTRACT)
        with Locations((0, -30)):
            Circle(SKETCH1_R, mode=Mode.SUBTRACT)
        with Locations((40.606601718, 10.606601718)):
            Circle(SKETCH1_R_2, mode=Mode.SUBTRACT)
        with Locations((30, 0)):
            Circle(SKETCH1_R, mode=Mode.SUBTRACT)
        with Locations((30, -30)):
            Circle(SKETCH1_R, mode=Mode.SUBTRACT)
        with Locations((40.606601718, -40.606601718)):
            Circle(SKETCH1_R_2, mode=Mode.SUBTRACT)
        with BuildLine():
            Line((7, 6), (4, 3))
            ThreePointArc((4, 3), (3.276008707, -3.777269775), (-3.535533906, -3.535533906))
            Line((-3.535533906, -3.535533906), (-7, -7))
            Line((-7, -7), (-11, -7))
            ThreePointArc((-11, -7), (-11.707106781, -7.292893219), (-12, -8))
            Line((-12, -8), (-12, -22))
            ThreePointArc((-12, -22), (-11.707106781, -22.707106781), (-11, -23))
            Line((-11, -23), (-7, -23))
            Line((-7, -23), (-3.535533906, -26.464466094))
            ThreePointArc((-3.535533906, -26.464466094), (3.276008707, -26.222730225), (4, -33))
            Line((4, -33), (7, -36))
            Line((7, -36), (7, -41))
            ThreePointArc((7, -41), (7.292893219, -41.707106781), (8, -42))
            Line((8, -42), (22, -42))
            ThreePointArc((22, -42), (22.707106781, -41.707106781), (23, -41))
            Line((23, -41), (23, -36))
            Line((23, -36), (26, -33))
            ThreePointArc((26, -33), (26.723991293, -26.222730225), (33.535533906, -26.464466094))
            Line((33.535533906, -26.464466094), (37, -23))
            Line((37, -23), (41, -23))
            ThreePointArc((41, -23), (41.707106781, -22.707106781), (42, -22))
            Line((42, -22), (42, -8))
            ThreePointArc((42, -8), (41.707106781, -7.292893219), (41, -7))
            Line((41, -7), (37, -7))
            Line((37, -7), (33.535533906, -3.535533906))
            ThreePointArc((33.535533906, -3.535533906), (26.723991293, -3.777269775), (26, 3))
            Line((26, 3), (23, 6))
            Line((23, 6), (23, 11))
            ThreePointArc((23, 11), (22.707106781, 11.707106781), (22, 12))
            Line((22, 12), (8, 12))
            ThreePointArc((8, 12), (7.292893219, 11.707106781), (7, 11))
            Line((7, 11), (7, 6))
        make_face(mode=Mode.SUBTRACT)
    extrude(amount=BOSS_EXTRUDE1_DEPTH)

    # Fillet1
    fillet1_edges = [part.edges().sort_by_distance(p)[0] for p in [
        (-15, 3, 160),
        (-3, 15, 160),
        (3, 15, 160),
        (27, 15, 160),
        (33, 15, 160),
        (45, 3, 160),
        (45, -3, 160),
        (45, -27, 160),
        (45, -33, 160),
        (33, -45, 160),
        (27, -45, 160),
        (3, -45, 160),
        (-3, -45, 160),
        (-15, -33, 160),
        (-15, -27, 160),
        (-15, -3, 160),
    ]]
    fillet(fillet1_edges, radius=FILLET1_R)

    # Fillet2
    fillet2_edges = [part.edges().sort_by_distance(p)[0] for p in [
        (-13.5, 3, 160),
        (-3, 13.5, 160),
        (3, 13.5, 160),
        (27, 13.5, 160),
        (33, 13.5, 160),
        (43.5, 3, 160),
        (43.5, -3, 160),
        (43.5, -27, 160),
        (43.5, -33, 160),
        (33, -43.5, 160),
        (27, -43.5, 160),
        (3, -43.5, 160),
        (-3, -43.5, 160),
        (-13.5, -33, 160),
        (-13.5, -27, 160),
        (-13.5, -3, 160),
    ]]
    fillet(fillet2_edges, radius=FILLET2_R)


solid = part.part
